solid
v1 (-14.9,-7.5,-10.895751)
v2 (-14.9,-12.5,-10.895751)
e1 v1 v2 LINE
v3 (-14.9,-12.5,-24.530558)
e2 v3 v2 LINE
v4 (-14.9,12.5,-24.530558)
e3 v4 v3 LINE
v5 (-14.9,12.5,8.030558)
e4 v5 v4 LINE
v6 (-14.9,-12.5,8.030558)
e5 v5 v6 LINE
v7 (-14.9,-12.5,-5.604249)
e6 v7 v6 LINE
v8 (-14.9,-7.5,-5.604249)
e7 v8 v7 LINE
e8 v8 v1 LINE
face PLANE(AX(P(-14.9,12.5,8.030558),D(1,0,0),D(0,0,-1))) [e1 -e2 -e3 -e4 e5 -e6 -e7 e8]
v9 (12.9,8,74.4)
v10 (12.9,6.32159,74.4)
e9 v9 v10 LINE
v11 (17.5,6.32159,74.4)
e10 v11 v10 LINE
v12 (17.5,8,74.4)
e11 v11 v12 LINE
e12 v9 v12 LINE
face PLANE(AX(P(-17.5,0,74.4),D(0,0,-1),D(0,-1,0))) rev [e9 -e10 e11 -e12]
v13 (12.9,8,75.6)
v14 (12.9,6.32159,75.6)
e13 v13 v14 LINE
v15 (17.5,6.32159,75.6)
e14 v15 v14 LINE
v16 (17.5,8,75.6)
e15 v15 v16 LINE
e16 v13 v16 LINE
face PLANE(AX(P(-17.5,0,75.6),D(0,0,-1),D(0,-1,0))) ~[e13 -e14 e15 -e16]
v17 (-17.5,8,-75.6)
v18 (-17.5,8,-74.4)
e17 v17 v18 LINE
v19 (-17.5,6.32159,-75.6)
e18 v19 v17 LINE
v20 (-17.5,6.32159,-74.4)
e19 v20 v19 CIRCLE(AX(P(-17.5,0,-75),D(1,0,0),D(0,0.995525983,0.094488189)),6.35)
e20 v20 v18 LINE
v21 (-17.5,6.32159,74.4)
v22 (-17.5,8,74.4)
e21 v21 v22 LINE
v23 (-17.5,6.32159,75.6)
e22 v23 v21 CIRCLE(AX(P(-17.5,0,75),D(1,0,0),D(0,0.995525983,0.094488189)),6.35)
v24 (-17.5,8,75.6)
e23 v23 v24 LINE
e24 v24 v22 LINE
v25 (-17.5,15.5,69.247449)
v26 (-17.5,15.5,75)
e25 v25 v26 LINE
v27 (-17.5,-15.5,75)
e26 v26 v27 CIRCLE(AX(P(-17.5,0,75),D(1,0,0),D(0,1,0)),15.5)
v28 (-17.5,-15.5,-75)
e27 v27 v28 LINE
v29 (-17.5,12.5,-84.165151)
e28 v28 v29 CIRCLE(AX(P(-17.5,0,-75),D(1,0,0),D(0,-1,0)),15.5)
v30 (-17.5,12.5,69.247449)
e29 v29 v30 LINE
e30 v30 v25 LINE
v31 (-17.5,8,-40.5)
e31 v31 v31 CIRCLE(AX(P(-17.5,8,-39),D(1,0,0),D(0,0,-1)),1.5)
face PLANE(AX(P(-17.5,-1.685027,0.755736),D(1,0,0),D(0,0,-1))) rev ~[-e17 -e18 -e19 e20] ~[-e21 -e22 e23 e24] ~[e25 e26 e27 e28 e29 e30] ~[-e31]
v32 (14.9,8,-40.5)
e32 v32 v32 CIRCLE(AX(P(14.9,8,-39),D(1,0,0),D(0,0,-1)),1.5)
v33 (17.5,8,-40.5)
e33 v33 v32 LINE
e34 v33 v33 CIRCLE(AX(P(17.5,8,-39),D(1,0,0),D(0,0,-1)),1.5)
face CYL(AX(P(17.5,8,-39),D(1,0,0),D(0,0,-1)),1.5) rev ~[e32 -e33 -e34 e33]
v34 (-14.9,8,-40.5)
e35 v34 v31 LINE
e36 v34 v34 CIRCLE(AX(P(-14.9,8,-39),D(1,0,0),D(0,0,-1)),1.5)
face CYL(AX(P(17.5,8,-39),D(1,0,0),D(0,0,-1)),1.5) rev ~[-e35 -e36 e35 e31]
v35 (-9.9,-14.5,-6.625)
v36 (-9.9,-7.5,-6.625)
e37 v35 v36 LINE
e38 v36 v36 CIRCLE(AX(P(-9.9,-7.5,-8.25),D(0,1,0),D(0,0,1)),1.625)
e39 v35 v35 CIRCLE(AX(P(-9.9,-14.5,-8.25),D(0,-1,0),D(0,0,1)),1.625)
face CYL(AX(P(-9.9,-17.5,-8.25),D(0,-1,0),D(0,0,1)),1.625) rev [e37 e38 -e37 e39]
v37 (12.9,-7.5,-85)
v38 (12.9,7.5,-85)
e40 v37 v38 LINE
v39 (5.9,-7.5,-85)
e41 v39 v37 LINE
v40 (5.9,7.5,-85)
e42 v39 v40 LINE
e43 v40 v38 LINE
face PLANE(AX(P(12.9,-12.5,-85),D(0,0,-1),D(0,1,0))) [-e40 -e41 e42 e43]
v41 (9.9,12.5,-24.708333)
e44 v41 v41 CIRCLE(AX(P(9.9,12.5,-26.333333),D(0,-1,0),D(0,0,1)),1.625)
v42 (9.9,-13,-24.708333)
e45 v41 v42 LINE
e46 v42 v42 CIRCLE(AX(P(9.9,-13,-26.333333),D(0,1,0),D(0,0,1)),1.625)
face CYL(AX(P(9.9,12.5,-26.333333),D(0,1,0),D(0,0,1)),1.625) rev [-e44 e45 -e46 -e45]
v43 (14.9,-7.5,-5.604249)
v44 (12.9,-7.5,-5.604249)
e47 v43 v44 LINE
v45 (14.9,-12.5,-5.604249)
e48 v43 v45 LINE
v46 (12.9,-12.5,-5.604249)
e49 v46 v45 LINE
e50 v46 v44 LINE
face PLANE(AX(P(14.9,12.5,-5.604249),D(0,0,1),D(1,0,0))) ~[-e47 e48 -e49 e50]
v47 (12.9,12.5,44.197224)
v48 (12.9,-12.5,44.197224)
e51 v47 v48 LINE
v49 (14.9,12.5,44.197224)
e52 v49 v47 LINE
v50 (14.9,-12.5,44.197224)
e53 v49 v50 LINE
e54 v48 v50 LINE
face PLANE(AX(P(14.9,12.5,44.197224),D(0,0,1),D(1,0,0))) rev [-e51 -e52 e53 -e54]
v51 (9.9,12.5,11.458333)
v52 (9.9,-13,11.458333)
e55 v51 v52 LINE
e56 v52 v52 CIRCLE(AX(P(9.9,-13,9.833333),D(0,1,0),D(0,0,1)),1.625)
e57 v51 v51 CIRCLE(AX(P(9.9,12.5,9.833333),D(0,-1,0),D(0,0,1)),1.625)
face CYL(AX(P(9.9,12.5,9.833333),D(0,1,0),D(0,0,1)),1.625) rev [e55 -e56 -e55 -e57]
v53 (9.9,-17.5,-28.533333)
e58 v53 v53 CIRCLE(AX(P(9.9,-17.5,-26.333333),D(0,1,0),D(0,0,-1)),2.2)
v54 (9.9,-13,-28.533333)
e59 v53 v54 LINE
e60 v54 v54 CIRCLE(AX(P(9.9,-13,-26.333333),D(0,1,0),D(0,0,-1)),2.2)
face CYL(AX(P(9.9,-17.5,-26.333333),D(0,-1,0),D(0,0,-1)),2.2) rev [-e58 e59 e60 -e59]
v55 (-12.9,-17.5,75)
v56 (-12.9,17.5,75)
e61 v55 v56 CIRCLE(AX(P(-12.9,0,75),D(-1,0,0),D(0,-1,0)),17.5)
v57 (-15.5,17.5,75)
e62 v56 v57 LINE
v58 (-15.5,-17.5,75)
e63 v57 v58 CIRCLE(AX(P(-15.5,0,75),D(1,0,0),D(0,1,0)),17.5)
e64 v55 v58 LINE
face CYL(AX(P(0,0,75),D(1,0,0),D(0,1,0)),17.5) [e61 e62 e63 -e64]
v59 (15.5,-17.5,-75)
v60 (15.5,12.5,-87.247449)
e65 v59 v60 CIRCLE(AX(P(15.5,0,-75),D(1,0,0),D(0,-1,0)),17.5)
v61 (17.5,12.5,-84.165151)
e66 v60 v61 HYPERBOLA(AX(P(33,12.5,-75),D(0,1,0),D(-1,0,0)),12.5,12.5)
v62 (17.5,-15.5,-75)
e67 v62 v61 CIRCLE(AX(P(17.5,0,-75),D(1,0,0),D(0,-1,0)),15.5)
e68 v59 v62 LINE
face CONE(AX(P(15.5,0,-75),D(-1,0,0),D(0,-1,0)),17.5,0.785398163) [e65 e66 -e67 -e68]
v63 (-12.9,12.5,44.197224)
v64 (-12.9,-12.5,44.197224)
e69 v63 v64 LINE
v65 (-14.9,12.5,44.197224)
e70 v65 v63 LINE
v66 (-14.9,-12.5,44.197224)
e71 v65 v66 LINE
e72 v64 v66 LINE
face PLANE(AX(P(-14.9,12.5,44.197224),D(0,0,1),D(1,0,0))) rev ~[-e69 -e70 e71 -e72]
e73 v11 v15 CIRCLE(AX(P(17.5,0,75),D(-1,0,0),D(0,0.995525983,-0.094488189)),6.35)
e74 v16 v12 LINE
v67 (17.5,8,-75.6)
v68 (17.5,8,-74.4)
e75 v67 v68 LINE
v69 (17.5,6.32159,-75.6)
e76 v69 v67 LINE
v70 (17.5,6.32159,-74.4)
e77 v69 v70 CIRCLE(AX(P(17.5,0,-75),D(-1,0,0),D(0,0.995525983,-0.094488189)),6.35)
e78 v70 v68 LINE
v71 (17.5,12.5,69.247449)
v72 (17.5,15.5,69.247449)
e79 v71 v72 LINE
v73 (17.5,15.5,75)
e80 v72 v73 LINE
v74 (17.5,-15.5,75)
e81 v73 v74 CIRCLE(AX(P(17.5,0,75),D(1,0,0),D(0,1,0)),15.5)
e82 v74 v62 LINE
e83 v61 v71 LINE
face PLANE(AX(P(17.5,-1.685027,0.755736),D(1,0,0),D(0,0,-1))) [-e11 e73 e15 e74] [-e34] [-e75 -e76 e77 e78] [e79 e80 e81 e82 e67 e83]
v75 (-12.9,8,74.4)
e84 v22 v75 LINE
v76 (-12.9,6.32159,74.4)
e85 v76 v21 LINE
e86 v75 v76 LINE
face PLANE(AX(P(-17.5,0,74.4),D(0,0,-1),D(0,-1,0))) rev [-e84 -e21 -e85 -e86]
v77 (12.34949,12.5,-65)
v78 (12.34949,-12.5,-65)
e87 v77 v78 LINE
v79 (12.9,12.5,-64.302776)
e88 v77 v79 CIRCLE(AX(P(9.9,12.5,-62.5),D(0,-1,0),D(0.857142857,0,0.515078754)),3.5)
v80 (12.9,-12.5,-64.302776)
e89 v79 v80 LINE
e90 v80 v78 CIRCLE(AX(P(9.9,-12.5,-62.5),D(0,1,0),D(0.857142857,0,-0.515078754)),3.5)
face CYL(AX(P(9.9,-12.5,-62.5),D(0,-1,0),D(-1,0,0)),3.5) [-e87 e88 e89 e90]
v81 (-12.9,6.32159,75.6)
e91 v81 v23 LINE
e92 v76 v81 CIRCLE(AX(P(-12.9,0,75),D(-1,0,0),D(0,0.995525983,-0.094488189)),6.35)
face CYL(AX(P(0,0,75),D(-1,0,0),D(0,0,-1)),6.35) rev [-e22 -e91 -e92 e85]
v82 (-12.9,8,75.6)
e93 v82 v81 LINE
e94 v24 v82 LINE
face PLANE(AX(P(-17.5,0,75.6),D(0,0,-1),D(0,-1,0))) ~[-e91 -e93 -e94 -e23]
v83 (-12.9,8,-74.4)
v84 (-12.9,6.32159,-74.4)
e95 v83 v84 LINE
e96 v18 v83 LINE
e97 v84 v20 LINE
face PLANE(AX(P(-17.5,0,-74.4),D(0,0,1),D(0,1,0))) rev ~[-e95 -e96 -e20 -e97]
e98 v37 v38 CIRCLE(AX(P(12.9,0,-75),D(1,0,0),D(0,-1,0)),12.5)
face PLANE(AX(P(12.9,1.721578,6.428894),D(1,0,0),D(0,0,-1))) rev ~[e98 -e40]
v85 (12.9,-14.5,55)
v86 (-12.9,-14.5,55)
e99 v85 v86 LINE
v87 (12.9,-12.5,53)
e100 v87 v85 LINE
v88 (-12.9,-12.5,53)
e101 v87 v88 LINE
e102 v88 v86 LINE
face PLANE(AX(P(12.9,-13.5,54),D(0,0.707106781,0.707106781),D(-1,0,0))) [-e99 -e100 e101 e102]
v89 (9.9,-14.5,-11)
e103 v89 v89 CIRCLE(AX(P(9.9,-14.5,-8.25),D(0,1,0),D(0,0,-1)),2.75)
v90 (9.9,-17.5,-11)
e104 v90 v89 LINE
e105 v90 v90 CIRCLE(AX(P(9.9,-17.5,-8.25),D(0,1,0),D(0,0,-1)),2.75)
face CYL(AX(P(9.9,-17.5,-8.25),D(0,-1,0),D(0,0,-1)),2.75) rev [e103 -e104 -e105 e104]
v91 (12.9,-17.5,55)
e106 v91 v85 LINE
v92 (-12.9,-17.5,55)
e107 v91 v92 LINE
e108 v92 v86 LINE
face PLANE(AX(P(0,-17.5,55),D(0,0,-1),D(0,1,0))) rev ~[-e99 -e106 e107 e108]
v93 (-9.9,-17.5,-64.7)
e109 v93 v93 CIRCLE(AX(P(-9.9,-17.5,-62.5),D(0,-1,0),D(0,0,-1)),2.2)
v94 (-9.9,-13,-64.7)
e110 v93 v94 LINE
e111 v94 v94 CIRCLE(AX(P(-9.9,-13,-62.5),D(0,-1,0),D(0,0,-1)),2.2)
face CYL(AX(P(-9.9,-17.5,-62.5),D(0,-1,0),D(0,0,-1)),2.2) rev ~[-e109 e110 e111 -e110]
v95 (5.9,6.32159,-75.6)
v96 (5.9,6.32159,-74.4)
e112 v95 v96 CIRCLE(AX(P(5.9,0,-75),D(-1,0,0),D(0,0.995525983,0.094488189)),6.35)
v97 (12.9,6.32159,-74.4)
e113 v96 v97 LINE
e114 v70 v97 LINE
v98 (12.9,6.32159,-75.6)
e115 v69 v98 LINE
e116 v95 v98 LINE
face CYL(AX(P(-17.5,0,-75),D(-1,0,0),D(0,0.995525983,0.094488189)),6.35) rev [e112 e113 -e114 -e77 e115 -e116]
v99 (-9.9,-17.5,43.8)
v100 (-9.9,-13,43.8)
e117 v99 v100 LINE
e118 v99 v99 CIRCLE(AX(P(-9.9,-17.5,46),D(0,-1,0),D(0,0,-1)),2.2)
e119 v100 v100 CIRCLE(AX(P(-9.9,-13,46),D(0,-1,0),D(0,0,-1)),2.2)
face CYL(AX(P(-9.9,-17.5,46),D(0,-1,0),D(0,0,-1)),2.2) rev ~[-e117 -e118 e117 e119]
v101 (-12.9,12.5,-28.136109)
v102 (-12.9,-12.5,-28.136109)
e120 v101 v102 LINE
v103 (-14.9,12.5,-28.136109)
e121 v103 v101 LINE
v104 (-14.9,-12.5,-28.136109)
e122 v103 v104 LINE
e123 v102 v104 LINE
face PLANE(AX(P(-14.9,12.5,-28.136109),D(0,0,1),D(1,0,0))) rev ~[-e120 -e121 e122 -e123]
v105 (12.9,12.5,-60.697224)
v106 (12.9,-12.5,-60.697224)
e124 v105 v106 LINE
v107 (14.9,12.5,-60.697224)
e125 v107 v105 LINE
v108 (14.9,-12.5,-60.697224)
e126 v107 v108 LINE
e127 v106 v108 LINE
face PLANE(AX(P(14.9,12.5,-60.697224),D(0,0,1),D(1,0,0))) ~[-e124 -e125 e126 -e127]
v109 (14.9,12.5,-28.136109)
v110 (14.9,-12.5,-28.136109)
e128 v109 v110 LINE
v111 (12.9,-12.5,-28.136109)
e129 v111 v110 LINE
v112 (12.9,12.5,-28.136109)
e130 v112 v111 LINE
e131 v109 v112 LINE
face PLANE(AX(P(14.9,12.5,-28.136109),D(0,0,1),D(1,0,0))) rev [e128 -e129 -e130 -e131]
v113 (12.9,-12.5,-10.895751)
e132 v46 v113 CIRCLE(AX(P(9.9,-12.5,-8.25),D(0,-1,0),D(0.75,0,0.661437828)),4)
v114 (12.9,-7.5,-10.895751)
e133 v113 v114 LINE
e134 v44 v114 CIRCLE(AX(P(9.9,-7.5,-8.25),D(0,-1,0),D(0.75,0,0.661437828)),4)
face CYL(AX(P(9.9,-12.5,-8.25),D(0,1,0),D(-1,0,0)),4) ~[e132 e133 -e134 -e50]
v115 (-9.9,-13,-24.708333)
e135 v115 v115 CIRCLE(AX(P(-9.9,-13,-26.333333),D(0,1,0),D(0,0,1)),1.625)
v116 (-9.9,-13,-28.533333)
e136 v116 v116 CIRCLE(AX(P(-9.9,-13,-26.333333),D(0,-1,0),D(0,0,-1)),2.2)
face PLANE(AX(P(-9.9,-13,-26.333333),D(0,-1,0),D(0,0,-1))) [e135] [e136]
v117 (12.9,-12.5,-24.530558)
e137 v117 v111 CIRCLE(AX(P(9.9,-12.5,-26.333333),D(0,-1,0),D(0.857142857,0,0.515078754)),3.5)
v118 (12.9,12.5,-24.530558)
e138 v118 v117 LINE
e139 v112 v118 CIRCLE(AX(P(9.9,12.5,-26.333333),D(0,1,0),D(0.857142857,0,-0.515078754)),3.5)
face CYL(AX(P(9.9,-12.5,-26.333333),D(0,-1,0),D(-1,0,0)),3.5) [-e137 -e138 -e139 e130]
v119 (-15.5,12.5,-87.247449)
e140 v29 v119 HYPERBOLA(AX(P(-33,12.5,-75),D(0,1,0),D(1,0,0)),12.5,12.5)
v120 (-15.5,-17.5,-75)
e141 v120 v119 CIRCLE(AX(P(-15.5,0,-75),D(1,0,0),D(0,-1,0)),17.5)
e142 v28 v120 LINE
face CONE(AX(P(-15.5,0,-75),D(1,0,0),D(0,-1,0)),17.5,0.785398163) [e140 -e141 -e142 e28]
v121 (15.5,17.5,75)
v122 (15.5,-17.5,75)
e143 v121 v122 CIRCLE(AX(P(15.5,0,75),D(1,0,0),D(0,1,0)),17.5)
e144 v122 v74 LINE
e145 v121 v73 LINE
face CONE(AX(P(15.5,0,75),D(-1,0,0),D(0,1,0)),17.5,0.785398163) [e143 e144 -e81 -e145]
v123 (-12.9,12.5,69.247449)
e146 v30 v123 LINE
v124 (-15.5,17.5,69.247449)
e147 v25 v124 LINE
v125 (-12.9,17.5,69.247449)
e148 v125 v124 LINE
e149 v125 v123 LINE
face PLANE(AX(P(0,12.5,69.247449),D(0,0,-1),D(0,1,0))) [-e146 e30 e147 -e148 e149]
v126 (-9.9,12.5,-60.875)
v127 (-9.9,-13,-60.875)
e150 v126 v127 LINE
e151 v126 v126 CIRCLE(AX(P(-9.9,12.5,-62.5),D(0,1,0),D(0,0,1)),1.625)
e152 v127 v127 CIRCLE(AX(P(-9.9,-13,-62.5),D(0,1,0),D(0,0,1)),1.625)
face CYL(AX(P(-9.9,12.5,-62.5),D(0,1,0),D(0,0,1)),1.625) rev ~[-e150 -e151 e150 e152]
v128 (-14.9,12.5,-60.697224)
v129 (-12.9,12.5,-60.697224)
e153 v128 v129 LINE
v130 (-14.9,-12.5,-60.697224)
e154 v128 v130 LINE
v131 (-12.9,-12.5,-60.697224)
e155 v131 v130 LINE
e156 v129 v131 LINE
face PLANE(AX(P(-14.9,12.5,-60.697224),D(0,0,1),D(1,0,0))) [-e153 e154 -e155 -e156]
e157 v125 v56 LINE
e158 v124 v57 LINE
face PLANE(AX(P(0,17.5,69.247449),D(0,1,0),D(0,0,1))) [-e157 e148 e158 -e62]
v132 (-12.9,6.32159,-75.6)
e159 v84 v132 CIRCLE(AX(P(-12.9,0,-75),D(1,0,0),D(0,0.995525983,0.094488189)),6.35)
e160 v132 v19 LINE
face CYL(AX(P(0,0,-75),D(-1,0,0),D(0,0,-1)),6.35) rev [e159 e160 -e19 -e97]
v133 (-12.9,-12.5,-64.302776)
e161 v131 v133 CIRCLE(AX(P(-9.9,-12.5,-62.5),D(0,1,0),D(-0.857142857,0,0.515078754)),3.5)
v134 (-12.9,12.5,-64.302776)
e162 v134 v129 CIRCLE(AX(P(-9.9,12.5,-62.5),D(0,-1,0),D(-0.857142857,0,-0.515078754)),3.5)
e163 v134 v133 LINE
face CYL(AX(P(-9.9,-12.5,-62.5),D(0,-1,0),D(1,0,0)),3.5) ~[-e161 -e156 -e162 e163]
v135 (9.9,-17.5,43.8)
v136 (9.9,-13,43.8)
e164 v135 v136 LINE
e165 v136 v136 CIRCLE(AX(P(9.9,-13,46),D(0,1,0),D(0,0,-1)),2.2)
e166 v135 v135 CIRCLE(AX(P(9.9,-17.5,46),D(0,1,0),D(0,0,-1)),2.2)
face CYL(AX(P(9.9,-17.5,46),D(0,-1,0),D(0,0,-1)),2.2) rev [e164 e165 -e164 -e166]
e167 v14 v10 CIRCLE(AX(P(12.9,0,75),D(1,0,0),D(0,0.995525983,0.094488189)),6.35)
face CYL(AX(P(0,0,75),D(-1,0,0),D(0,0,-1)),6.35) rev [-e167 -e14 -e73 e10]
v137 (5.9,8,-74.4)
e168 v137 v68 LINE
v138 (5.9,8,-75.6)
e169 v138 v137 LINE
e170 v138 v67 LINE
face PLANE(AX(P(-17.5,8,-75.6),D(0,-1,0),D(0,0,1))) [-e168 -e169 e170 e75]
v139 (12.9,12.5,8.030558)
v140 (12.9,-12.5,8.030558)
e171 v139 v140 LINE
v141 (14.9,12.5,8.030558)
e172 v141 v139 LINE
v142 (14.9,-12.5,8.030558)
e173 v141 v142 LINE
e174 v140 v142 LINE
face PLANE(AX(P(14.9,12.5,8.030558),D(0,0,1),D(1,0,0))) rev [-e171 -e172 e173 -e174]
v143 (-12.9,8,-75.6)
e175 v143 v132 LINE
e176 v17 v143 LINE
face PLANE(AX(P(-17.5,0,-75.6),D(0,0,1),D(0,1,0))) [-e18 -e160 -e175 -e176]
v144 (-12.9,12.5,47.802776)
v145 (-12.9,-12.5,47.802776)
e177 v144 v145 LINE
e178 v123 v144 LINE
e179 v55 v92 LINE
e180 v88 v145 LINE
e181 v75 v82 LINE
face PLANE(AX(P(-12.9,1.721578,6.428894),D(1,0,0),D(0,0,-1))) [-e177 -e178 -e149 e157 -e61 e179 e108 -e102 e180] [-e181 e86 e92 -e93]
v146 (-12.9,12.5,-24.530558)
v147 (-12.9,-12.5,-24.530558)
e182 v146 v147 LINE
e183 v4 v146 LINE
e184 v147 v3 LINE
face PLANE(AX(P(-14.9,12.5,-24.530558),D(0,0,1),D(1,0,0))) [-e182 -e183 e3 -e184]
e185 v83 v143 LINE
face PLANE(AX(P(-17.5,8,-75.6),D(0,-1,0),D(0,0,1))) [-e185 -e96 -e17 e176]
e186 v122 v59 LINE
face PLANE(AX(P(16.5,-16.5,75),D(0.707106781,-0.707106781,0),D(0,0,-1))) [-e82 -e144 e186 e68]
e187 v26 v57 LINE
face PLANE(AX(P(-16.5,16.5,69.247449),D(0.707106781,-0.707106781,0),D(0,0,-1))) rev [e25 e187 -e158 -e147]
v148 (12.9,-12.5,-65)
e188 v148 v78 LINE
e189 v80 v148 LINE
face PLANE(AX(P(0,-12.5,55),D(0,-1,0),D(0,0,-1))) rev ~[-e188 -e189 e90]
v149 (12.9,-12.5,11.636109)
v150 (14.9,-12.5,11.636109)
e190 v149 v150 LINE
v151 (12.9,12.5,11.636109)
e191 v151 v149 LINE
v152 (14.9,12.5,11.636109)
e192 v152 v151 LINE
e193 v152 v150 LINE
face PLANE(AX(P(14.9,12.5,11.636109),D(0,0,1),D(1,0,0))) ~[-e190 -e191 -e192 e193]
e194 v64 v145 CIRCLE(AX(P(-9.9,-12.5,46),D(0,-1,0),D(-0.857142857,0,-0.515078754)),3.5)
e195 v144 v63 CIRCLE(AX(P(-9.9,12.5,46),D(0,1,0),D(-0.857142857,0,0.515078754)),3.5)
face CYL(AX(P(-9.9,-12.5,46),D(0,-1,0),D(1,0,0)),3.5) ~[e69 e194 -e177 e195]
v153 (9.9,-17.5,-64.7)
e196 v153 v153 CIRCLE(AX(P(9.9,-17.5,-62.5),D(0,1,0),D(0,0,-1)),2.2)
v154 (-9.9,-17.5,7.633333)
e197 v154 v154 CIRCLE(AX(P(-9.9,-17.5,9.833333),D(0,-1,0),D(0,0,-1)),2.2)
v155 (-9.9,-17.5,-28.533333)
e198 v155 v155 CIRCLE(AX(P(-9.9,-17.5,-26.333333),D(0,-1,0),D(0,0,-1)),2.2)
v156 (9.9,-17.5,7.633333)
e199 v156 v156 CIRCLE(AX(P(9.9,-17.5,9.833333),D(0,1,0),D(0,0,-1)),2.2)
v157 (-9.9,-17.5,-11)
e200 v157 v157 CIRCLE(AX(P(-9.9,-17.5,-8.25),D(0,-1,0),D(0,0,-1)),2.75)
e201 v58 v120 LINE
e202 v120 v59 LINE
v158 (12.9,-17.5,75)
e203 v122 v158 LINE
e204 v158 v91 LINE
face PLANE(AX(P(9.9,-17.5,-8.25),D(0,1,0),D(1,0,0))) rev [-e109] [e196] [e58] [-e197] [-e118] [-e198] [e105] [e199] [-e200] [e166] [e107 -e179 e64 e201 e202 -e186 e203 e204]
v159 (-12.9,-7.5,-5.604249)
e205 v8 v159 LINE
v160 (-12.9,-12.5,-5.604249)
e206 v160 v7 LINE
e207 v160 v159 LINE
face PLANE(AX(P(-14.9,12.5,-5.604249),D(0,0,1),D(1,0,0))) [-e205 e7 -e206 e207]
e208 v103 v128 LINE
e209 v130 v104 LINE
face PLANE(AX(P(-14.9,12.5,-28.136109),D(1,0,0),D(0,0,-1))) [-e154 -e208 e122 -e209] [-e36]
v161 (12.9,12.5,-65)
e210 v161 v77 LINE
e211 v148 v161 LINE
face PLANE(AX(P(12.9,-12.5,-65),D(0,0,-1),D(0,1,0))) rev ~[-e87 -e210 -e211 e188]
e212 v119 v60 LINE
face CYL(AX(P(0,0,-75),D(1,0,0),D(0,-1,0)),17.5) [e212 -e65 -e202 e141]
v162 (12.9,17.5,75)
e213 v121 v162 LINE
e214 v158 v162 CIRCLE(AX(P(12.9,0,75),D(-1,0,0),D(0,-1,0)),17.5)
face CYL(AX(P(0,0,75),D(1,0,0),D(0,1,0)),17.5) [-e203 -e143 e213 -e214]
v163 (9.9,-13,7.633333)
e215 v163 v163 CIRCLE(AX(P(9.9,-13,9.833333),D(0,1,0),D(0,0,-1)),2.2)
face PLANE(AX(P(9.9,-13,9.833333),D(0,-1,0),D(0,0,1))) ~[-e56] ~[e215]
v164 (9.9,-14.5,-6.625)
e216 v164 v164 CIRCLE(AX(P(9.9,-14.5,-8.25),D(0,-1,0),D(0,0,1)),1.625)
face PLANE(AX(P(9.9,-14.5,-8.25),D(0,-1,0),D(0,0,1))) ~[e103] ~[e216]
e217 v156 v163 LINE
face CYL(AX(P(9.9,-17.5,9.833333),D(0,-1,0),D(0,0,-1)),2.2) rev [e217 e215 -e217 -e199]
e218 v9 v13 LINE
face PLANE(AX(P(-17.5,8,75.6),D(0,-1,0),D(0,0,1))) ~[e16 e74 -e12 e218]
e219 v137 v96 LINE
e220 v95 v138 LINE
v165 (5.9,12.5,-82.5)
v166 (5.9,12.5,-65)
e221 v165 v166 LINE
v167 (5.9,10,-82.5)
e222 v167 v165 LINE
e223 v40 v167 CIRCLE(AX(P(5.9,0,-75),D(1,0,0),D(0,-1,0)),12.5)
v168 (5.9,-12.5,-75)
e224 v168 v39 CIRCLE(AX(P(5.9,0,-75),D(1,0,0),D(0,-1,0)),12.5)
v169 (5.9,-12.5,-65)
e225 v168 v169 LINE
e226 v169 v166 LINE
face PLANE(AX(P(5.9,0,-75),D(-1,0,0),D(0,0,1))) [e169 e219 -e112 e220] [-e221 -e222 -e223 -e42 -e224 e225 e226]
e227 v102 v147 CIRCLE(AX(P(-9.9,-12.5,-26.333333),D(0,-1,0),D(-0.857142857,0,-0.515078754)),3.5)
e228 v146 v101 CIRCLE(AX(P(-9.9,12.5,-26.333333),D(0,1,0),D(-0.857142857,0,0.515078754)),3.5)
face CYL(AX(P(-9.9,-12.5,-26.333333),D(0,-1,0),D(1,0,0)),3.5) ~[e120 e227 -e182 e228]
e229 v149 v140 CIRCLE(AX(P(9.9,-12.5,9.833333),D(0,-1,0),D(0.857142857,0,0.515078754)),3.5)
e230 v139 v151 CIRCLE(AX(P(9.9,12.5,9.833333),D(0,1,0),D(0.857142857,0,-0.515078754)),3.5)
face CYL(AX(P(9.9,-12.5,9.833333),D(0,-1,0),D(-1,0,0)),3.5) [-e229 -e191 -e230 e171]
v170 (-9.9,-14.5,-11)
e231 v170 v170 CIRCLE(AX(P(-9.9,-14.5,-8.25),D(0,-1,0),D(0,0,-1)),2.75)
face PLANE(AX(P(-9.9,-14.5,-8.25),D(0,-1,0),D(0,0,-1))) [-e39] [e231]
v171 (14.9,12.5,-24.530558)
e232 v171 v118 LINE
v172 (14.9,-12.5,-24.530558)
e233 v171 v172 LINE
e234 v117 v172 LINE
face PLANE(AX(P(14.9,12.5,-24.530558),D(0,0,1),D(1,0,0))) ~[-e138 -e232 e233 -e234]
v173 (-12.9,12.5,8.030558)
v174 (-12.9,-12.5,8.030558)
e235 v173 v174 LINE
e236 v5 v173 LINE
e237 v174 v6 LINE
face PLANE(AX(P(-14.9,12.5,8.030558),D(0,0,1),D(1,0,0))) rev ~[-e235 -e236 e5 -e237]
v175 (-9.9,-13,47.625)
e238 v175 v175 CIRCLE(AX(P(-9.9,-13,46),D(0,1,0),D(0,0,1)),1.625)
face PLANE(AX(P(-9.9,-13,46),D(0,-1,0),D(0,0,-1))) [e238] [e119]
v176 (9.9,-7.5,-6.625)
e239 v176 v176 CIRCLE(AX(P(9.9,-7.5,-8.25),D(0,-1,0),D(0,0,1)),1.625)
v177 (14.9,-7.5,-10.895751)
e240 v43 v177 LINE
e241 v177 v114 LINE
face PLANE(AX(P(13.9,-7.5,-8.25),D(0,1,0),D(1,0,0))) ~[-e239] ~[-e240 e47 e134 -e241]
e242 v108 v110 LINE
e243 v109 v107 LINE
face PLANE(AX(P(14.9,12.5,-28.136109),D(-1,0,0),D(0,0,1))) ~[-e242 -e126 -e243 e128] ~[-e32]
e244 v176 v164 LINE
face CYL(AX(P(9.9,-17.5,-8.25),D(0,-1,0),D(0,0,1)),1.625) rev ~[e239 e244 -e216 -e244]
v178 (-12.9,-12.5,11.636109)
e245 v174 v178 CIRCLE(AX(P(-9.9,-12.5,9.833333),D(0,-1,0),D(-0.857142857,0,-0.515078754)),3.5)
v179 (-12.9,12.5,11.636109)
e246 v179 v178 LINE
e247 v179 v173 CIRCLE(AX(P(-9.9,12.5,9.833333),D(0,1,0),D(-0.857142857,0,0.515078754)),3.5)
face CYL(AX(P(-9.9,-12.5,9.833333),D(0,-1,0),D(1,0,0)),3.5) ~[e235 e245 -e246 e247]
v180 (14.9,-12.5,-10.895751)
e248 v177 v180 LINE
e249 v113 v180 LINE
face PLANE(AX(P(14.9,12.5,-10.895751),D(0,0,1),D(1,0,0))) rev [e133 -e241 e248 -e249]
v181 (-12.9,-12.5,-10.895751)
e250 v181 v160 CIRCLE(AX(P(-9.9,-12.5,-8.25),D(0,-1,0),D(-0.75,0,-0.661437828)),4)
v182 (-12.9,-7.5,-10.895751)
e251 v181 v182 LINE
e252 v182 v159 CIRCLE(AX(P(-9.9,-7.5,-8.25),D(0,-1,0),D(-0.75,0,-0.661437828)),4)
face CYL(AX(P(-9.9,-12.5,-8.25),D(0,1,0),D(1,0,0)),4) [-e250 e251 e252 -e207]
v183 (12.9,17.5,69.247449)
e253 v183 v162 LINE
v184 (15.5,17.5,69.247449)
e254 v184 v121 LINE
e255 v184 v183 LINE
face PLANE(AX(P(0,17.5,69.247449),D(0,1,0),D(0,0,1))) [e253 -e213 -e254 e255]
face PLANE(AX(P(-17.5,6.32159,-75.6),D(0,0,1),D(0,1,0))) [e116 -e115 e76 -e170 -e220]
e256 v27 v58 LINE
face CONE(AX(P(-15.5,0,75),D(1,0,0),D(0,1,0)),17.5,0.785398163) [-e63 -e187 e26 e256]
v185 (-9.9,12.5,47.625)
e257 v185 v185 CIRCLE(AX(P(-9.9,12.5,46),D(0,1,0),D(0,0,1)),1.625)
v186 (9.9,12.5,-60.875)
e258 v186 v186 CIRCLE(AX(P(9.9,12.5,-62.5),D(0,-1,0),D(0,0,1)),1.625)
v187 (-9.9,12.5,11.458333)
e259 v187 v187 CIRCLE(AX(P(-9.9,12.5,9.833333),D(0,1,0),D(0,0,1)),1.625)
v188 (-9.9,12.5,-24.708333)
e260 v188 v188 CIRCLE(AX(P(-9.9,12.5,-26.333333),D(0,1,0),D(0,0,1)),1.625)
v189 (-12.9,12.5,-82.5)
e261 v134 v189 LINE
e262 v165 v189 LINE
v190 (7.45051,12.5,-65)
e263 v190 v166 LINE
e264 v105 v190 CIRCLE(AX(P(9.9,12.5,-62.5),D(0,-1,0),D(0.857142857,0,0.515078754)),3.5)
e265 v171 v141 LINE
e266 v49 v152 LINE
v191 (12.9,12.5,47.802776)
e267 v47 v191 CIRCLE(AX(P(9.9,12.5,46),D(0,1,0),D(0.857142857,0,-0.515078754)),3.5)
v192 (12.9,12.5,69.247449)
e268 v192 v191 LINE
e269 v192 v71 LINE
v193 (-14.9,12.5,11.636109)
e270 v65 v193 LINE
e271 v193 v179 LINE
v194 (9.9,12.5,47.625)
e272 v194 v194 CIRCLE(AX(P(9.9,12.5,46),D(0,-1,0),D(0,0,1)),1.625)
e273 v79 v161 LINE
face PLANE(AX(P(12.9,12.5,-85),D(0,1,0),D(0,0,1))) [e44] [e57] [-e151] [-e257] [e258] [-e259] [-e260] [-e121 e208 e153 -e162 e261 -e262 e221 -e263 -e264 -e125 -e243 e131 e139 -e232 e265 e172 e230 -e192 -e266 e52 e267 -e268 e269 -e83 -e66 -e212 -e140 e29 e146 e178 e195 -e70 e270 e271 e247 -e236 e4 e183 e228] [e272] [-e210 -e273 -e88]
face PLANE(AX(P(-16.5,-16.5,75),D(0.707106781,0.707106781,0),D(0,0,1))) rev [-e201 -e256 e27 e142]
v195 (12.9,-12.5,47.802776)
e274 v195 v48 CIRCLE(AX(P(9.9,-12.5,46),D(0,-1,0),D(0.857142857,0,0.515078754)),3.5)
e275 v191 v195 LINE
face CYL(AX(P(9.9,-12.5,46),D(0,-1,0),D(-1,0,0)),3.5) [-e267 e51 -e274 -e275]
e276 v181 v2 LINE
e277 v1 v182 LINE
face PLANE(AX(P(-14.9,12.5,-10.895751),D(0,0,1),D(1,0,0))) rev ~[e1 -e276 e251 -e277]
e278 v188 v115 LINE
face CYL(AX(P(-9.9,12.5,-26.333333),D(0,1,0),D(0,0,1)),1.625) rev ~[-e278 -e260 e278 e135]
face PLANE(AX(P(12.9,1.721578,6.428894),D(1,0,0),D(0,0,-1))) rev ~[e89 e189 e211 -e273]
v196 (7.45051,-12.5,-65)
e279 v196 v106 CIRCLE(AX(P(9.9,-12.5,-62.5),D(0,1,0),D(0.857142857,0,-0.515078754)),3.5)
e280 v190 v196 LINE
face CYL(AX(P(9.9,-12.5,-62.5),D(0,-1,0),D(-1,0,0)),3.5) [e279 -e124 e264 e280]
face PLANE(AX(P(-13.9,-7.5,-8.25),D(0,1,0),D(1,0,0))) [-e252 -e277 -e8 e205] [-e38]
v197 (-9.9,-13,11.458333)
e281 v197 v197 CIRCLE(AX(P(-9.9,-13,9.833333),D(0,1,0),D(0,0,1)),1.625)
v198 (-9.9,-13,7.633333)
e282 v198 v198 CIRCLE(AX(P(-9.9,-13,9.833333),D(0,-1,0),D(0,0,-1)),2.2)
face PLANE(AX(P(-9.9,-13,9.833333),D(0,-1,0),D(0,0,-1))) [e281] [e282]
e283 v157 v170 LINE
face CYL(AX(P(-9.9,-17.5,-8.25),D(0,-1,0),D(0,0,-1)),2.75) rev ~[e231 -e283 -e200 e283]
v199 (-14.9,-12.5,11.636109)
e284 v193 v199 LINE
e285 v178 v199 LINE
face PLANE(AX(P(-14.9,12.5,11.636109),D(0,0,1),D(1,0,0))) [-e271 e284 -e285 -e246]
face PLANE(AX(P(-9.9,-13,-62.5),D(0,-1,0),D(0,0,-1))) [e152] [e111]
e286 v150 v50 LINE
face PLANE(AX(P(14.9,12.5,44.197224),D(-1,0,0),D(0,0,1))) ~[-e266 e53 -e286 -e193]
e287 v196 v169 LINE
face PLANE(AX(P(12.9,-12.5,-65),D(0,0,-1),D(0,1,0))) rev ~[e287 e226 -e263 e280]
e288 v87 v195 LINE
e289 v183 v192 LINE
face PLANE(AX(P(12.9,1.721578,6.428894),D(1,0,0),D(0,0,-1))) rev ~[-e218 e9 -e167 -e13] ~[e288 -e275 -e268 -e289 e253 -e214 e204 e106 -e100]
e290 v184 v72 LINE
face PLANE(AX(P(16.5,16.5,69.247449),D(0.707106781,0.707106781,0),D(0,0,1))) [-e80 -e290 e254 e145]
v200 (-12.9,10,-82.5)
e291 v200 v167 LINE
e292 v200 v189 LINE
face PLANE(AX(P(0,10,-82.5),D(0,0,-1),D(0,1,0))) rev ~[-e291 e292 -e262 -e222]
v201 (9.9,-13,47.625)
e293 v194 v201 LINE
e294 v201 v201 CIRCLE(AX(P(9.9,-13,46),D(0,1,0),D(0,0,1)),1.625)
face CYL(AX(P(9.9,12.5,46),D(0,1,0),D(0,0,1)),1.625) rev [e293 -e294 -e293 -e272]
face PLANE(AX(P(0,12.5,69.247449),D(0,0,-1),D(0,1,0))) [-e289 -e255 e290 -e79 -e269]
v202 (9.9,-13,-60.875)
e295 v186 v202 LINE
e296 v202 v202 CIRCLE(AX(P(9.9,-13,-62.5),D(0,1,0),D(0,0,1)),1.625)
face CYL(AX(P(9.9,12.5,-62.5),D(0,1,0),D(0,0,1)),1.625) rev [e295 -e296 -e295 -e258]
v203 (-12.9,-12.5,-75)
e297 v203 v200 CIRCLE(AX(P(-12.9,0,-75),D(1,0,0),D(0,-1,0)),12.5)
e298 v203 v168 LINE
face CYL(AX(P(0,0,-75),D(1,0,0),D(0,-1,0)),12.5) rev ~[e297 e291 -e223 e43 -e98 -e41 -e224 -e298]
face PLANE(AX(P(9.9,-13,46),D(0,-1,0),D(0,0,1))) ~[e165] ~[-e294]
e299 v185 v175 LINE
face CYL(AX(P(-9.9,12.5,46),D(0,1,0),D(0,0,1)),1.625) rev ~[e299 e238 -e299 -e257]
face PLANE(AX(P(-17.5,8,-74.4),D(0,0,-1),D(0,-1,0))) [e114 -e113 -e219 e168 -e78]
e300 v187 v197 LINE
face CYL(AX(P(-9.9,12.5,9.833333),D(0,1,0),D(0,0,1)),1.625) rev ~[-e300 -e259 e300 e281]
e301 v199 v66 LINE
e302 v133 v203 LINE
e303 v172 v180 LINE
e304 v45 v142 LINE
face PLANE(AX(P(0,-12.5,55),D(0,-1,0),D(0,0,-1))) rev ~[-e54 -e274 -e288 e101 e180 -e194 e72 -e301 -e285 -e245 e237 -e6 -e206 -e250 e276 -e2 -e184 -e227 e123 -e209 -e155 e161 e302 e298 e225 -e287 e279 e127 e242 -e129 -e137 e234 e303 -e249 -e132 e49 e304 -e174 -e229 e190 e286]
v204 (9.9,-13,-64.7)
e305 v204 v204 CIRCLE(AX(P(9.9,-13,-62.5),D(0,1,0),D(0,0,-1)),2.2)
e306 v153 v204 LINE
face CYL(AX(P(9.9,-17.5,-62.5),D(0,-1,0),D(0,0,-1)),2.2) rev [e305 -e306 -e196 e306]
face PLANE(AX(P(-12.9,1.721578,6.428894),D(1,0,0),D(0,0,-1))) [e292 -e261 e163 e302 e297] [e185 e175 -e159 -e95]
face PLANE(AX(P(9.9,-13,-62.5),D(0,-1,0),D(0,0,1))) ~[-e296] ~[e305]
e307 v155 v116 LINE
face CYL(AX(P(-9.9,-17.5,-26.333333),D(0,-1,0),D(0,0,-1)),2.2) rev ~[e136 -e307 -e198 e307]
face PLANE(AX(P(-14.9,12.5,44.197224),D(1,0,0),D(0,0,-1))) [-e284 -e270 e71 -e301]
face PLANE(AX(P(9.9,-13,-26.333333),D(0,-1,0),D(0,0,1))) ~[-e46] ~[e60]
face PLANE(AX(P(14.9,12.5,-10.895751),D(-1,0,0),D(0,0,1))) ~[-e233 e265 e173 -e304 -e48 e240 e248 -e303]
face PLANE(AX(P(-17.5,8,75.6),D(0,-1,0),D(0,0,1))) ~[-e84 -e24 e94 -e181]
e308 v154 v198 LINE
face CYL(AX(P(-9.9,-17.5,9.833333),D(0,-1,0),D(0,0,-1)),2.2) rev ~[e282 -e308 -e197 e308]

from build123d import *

# Parameters (mm, degrees)
SKETCH1_R           = 6.35
BOSS_EXTRUDE1_DEPTH = 17.5
CUT_EXTRUDE1_DEPTH  = 12.9
CHAMFER1_SIZE       = 2
SKETCH4_R           = 3.5
BOSS_EXTRUDE2_DEPTH = 25
SKETCH8_R           = 1.625
CUT_EXTRUDE4_DEPTH  = 30
SKETCH7_R           = 2.2
CUT_EXTRUDE3_DEPTH  = 4.5
SKETCH9_R           = 4
SKETCH9_R_2         = 1.625
BOSS_EXTRUDE3_DEPTH = 5
SKETCH11_R          = 2.75
CUT_EXTRUDE5_DEPTH  = 3
SKETCH12_R          = 1.625
CUT_EXTRUDE6_DEPTH  = 101.436547133
CUT_EXTRUDE8_REACH  = 100.805
SKETCH15_W          = 2
SKETCH15_H          = 32.561115391
SKETCH15_H_2        = 13.634806385
SKETCH16_W          = 2
SKETCH16_H          = 5.291502622
CUT_EXTRUDE9_DEPTH  = 20
CUT_EXTRUDE10_REACH = 102.437
SKETCH17_R          = 1.5
CUT_EXTRUDE11_REACH = 102.437
SKETCH18_W          = 1.2
SKETCH18_H          = 8
SKETCH19_W          = 20
SKETCH19_H          = 25
BOSS_EXTRUDE4_DEPTH = 7
CUT_EXTRUDE12_DEPTH = 35


with BuildPart() as part:
    # Sketch1 → Boss-Extrude1 (new, symmetric)
    with BuildSketch(Plane(origin=(0, 0, 0), x_dir=(0, 0, -1), z_dir=(1, 0, 0))):
        with BuildLine():
            Line((-75, -17.5), (75, -17.5))
            ThreePointArc((75, -17.5), (91.201851746, -6.614378278), (87.247448714, 12.5))
            Line((87.247448714, 12.5), (-69.247448714, 12.5))
            Line((-69.247448714, 12.5), (-69.247448714, 17.5))
            Line((-69.247448714, 17.5), (-75, 17.5))
            ThreePointArc((-75, 17.5), (-92.5, 0), (-75, -17.5))
        make_face()
        with Locations((-75, 0)):
            Circle(SKETCH1_R, mode=Mode.SUBTRACT)
        with Locations((75, 0)):
            Circle(SKETCH1_R, mode=Mode.SUBTRACT)
    extrude(amount=BOSS_EXTRUDE1_DEPTH, both=True)

    # Sketch3 → Cut-Extrude1 (cut, symmetric)
    with BuildSketch(Plane(origin=(0, 0, 0), x_dir=(0, 0, -1), z_dir=(1, 0, 0))):
        with BuildLine():
            Line((-55, -12.5), (75, -12.5))
            ThreePointArc((75, -12.5), (86.858541226, -3.952847075), (82.5, 10))
            Line((82.5, 10), (82.5, 17.5))
            Line((82.5, 17.5), (-92.5, 17.5))
            Line((-92.5, 17.5), (-92.5, -17.5))
            Line((-92.5, -17.5), (-55, -17.5))
            Line((-55, -17.5), (-55, -12.5))
        make_face()
    extrude(amount=CUT_EXTRUDE1_DEPTH, both=True, mode=Mode.SUBTRACT)

    # Chamfer1
    chamfer1_edges = [part.edges().sort_by_distance(p)[0] for p in [
        (17.5, -6.614378278, -91.201851746),
        (17.5, 17.5, 72.123724357),
        (0, -12.5, 55),
        (17.5, 0, 92.5),
        (-17.5, 17.5, 72.123724357),
        (-17.5, -6.614378278, -91.201851746),
        (-17.5, -17.5, 0),
        (-17.5, 0, 92.5),
        (17.5, -17.5, 0),
    ]]
    chamfer(chamfer1_edges, length=CHAMFER1_SIZE)

    # Sketch4 → Boss-Extrude2 (add)
    with BuildSketch(Plane(origin=(0, -12.5, 0), x_dir=(1, 0, 0), z_dir=(0, 1, 0))):
        with Locations((-9.9, 62.5)):
            Circle(SKETCH4_R)
        with Locations((-9.9, 26.333333333)):
            Circle(SKETCH4_R)
        with Locations((-9.9, -9.833333333)):
            Circle(SKETCH4_R)
        with Locations((-9.9, -46)):
            Circle(SKETCH4_R)
    boss_extrude2 = extrude(amount=BOSS_EXTRUDE2_DEPTH)

    # Sketch8 → Cut-Extrude4 (cut)
    with BuildSketch(Plane(origin=(0, 12.5, 0), x_dir=(1, 0, 0), z_dir=(0, 1, 0))):
        with Locations(Location((-9.9, 62.5, 0), (0, 0, 270))):
            Circle(SKETCH8_R)
        with Locations(Location((-9.9, 26.333333333, 0), (0, 0, 270))):
            Circle(SKETCH8_R)
        with Locations(Location((-9.9, -9.833333333, 0), (0, 0, 270))):
            Circle(SKETCH8_R)
        with Locations(Location((-9.9, -46, 0), (0, 0, 270))):
            Circle(SKETCH8_R)
    cut_extrude4 = extrude(amount=-CUT_EXTRUDE4_DEPTH, mode=Mode.SUBTRACT)

    # Sketch7 → Cut-Extrude3 (cut)
    with BuildSketch(Plane.XZ.offset(17.5)):
        with Locations(Location((-9.9, 46, 0), (0, 0, 270))):
            Circle(SKETCH7_R)
        with Locations(Location((-9.9, 9.833333333, 0), (0, 0, 270))):
            Circle(SKETCH7_R)
        with Locations(Location((-9.9, -26.333333333, 0), (0, 0, 270))):
            Circle(SKETCH7_R)
        with Locations(Location((-9.9, -62.5, 0), (0, 0, 270))):
            Circle(SKETCH7_R)
    cut_extrude3 = extrude(amount=-CUT_EXTRUDE3_DEPTH, mode=Mode.SUBTRACT)

    # Sketch9 → Boss-Extrude3 (add, symmetric)
    with BuildSketch(Plane(origin=(0, -12.5, 0), x_dir=(1, 0, 0), z_dir=(0, 1, 0))):
        with Locations((-9.9, 8.25)):
            Circle(SKETCH9_R)
        with Locations(Location((-9.9, 8.25, 0), (0, 0, 270))):
            Circle(SKETCH9_R_2, mode=Mode.SUBTRACT)
    boss_extrude3 = extrude(amount=BOSS_EXTRUDE3_DEPTH, both=True)

    # Sketch11 → Cut-Extrude5 (cut)
    with BuildSketch(Plane.XZ.offset(17.5)):
        with Locations(Location((-9.9, -8.25, 0), (0, 0, 270))):
            Circle(SKETCH11_R)
    cut_extrude5 = extrude(amount=-CUT_EXTRUDE5_DEPTH, mode=Mode.SUBTRACT)

    # Mirror1: Boss-Extrude2, Cut-Extrude4, Cut-Extrude3, Boss-Extrude3, Cut-Extrude5 across plane
    add(boss_extrude2.mirror(Plane(origin=(0, 0, 0), x_dir=(0, 0, 1), z_dir=(1, 0, 0))))
    add(cut_extrude4.mirror(Plane(origin=(0, 0, 0), x_dir=(0, 0, 1), z_dir=(1, 0, 0))), mode=Mode.SUBTRACT)
    add(cut_extrude3.mirror(Plane(origin=(0, 0, 0), x_dir=(0, 0, 1), z_dir=(1, 0, 0))), mode=Mode.SUBTRACT)
    add(boss_extrude3.mirror(Plane(origin=(0, 0, 0), x_dir=(0, 0, 1), z_dir=(1, 0, 0))))
    add(cut_extrude5.mirror(Plane(origin=(0, 0, 0), x_dir=(0, 0, 1), z_dir=(1, 0, 0))), mode=Mode.SUBTRACT)

    # Sketch12 → Cut-Extrude6 (cut, symmetric)
    with BuildSketch(Plane.XZ.offset(17.5)):
        with Locations(Location((9.9, -8.25, 0), (0, 0, 90))):
            Circle(SKETCH12_R)
    cut_extrude6 = extrude(amount=CUT_EXTRUDE6_DEPTH, both=True, mode=Mode.SUBTRACT)

    # Cut-Extrude8: up to this face of the body (flat: up to its plane)
    cut_extrude8_end = Plane(part.part.faces().sort_by_distance((0, -12.5, -11.369745073))[0])
    # Sketch15 → Cut-Extrude8 (cut, up to the picked face)
    with BuildSketch(Plane(origin=(0, 12.5, 0), x_dir=(1, 0, 0), z_dir=(0, 1, 0)), mode=Mode.PRIVATE) as cut_extrude8_sk1:
        with Locations((-13.9, 44.416666667)):
            Rectangle(SKETCH15_W, SKETCH15_H)
    cut_extrude8_tool1 = split(extrude(cut_extrude8_sk1.sketch, amount=-CUT_EXTRUDE8_REACH, mode=Mode.PRIVATE), bisect_by=cut_extrude8_end, keep=Keep.BOTH, mode=Mode.PRIVATE)
    # Sketch15 → Cut-Extrude8 (cut, up to the picked face)
    with BuildSketch(Plane(origin=(0, 12.5, 0), x_dir=(1, 0, 0), z_dir=(0, 1, 0)), mode=Mode.PRIVATE) as cut_extrude8_sk2:
        with Locations((-13.9, 17.713154504)):
            Rectangle(SKETCH15_W, SKETCH15_H_2)
    cut_extrude8_tool2 = split(extrude(cut_extrude8_sk2.sketch, amount=-CUT_EXTRUDE8_REACH, mode=Mode.PRIVATE), bisect_by=cut_extrude8_end, keep=Keep.BOTH, mode=Mode.PRIVATE)
    # Sketch15 → Cut-Extrude8 (cut, up to the picked face)
    with BuildSketch(Plane(origin=(0, 12.5, 0), x_dir=(1, 0, 0), z_dir=(0, 1, 0)), mode=Mode.PRIVATE) as cut_extrude8_sk3:
        with Locations((-13.9, -1.213154504)):
            Rectangle(SKETCH15_W, SKETCH15_H_2)
    cut_extrude8_tool3 = split(extrude(cut_extrude8_sk3.sketch, amount=-CUT_EXTRUDE8_REACH, mode=Mode.PRIVATE), bisect_by=cut_extrude8_end, keep=Keep.BOTH, mode=Mode.PRIVATE)
    # Sketch15 → Cut-Extrude8 (cut, up to the picked face)
    with BuildSketch(Plane(origin=(0, 12.5, 0), x_dir=(1, 0, 0), z_dir=(0, 1, 0)), mode=Mode.PRIVATE) as cut_extrude8_sk4:
        with Locations((-13.9, -27.916666666)):
            Rectangle(SKETCH15_W, SKETCH15_H)
    cut_extrude8_tool4 = split(extrude(cut_extrude8_sk4.sketch, amount=-CUT_EXTRUDE8_REACH, mode=Mode.PRIVATE), bisect_by=cut_extrude8_end, keep=Keep.BOTH, mode=Mode.PRIVATE)
    cut_extrude8_1 = cut_extrude8_tool1.solids().sort_by(Axis((-13.9, 12.5, -44.416667), (0, -1, 0)))[0]
    add(cut_extrude8_1, mode=Mode.SUBTRACT)
    cut_extrude8_2 = cut_extrude8_tool2.solids().sort_by(Axis((-13.9, 12.5, -17.713155), (0, -1, 0)))[0]
    add(cut_extrude8_2, mode=Mode.SUBTRACT)
    cut_extrude8_3 = cut_extrude8_tool3.solids().sort_by(Axis((-13.9, 12.5, 1.213155), (0, -1, 0)))[0]
    add(cut_extrude8_3, mode=Mode.SUBTRACT)
    cut_extrude8_4 = cut_extrude8_tool4.solids().sort_by(Axis((-13.9, 12.5, 27.916667), (0, -1, 0)))[0]
    add(cut_extrude8_4, mode=Mode.SUBTRACT)
    cut_extrude8 = cut_extrude8_1 + cut_extrude8_2 + cut_extrude8_3 + cut_extrude8_4  # Cut-Extrude8 as one shape, for the pattern or mirror that repeats it

    # Sketch16 → Cut-Extrude9 (cut)
    with BuildSketch(Plane(origin=(0, 12.5, 0), x_dir=(1, 0, 0), z_dir=(0, 1, 0))):
        with Locations((-13.9, 8.25)):
            Rectangle(SKETCH16_W, SKETCH16_H)
    cut_extrude9 = extrude(amount=-CUT_EXTRUDE9_DEPTH, mode=Mode.SUBTRACT)

    # Mirror2: Cut-Extrude6, Cut-Extrude8, Cut-Extrude9 across plane
    add(cut_extrude6.mirror(Plane(origin=(0, 0, 0), x_dir=(0, 0, 1), z_dir=(1, 0, 0))), mode=Mode.SUBTRACT)
    add(cut_extrude8.mirror(Plane(origin=(0, 0, 0), x_dir=(0, 0, 1), z_dir=(1, 0, 0))), mode=Mode.SUBTRACT)
    add(cut_extrude9.mirror(Plane(origin=(0, 0, 0), x_dir=(0, 0, 1), z_dir=(1, 0, 0))), mode=Mode.SUBTRACT)

    # Cut-Extrude10: up to this face of the body (flat: up to its plane)
    cut_extrude10_end = Plane(part.part.faces().sort_by_distance((-17.5, -1.343633732, 0.577395586))[0])
    # Sketch17 → Cut-Extrude10 (cut, up to the picked face)
    with BuildSketch(Plane(origin=(17.5, 0, 0), x_dir=(0, 0, -1), z_dir=(1, 0, 0)), mode=Mode.PRIVATE) as cut_extrude10_sk1:
        with Locations((39, 8)):
            Circle(SKETCH17_R)
    cut_extrude10_tool1 = split(extrude(cut_extrude10_sk1.sketch, amount=-CUT_EXTRUDE10_REACH, mode=Mode.PRIVATE), bisect_by=cut_extrude10_end, keep=Keep.BOTH, mode=Mode.PRIVATE)
    add(cut_extrude10_tool1.solids().sort_by(Axis((17.5, 8, -39), (-1, 0, 0)))[0], mode=Mode.SUBTRACT)

    # Cut-Extrude11: up to this face of the body (flat: up to its plane)
    cut_extrude11_end = Plane(part.part.faces().sort_by_distance((17.5, -1.35770743, 0.637008401))[0])
    # Sketch18 → Cut-Extrude11 (cut, up to the picked face)
    with BuildSketch(Plane.ZY.offset(17.5), mode=Mode.PRIVATE) as cut_extrude11_sk1:
        with Locations((-75, 4)):
            Rectangle(SKETCH18_W, SKETCH18_H)
    cut_extrude11_tool1 = split(extrude(cut_extrude11_sk1.sketch, amount=-CUT_EXTRUDE11_REACH, mode=Mode.PRIVATE), bisect_by=cut_extrude11_end, keep=Keep.BOTH, mode=Mode.PRIVATE)
    cut_extrude11 = cut_extrude11_tool1.solids().sort_by(Axis((-17.5, 4, -75), (1, 0, 0)))[0]
    add(cut_extrude11, mode=Mode.SUBTRACT)

    # Mirror3: Cut-Extrude11 across plane
    add(cut_extrude11.mirror(Plane.XY), mode=Mode.SUBTRACT)

    # Sketch19 → Boss-Extrude4 (add)
    with BuildSketch(Plane.ZY.offset(-12.9)):
        with Locations((-75, 0)):
            Rectangle(SKETCH19_W, SKETCH19_H)
    extrude(amount=BOSS_EXTRUDE4_DEPTH)

    # Sketch20 → Cut-Extrude12 (cut)
    with BuildSketch(Plane.ZY.offset(17.5)):
        with BuildLine():
            Line((-75.6, 6.32158999), (-75.6, 8))
            Line((-75.6, 8), (-74.4, 8))
            Line((-74.4, 8), (-74.4, 6.32158999))
            ThreePointArc((-74.4, 6.32158999), (-75, -6.35), (-75.6, 6.32158999))
        make_face()
    extrude(amount=-CUT_EXTRUDE12_DEPTH, mode=Mode.SUBTRACT)


solid = part.part
